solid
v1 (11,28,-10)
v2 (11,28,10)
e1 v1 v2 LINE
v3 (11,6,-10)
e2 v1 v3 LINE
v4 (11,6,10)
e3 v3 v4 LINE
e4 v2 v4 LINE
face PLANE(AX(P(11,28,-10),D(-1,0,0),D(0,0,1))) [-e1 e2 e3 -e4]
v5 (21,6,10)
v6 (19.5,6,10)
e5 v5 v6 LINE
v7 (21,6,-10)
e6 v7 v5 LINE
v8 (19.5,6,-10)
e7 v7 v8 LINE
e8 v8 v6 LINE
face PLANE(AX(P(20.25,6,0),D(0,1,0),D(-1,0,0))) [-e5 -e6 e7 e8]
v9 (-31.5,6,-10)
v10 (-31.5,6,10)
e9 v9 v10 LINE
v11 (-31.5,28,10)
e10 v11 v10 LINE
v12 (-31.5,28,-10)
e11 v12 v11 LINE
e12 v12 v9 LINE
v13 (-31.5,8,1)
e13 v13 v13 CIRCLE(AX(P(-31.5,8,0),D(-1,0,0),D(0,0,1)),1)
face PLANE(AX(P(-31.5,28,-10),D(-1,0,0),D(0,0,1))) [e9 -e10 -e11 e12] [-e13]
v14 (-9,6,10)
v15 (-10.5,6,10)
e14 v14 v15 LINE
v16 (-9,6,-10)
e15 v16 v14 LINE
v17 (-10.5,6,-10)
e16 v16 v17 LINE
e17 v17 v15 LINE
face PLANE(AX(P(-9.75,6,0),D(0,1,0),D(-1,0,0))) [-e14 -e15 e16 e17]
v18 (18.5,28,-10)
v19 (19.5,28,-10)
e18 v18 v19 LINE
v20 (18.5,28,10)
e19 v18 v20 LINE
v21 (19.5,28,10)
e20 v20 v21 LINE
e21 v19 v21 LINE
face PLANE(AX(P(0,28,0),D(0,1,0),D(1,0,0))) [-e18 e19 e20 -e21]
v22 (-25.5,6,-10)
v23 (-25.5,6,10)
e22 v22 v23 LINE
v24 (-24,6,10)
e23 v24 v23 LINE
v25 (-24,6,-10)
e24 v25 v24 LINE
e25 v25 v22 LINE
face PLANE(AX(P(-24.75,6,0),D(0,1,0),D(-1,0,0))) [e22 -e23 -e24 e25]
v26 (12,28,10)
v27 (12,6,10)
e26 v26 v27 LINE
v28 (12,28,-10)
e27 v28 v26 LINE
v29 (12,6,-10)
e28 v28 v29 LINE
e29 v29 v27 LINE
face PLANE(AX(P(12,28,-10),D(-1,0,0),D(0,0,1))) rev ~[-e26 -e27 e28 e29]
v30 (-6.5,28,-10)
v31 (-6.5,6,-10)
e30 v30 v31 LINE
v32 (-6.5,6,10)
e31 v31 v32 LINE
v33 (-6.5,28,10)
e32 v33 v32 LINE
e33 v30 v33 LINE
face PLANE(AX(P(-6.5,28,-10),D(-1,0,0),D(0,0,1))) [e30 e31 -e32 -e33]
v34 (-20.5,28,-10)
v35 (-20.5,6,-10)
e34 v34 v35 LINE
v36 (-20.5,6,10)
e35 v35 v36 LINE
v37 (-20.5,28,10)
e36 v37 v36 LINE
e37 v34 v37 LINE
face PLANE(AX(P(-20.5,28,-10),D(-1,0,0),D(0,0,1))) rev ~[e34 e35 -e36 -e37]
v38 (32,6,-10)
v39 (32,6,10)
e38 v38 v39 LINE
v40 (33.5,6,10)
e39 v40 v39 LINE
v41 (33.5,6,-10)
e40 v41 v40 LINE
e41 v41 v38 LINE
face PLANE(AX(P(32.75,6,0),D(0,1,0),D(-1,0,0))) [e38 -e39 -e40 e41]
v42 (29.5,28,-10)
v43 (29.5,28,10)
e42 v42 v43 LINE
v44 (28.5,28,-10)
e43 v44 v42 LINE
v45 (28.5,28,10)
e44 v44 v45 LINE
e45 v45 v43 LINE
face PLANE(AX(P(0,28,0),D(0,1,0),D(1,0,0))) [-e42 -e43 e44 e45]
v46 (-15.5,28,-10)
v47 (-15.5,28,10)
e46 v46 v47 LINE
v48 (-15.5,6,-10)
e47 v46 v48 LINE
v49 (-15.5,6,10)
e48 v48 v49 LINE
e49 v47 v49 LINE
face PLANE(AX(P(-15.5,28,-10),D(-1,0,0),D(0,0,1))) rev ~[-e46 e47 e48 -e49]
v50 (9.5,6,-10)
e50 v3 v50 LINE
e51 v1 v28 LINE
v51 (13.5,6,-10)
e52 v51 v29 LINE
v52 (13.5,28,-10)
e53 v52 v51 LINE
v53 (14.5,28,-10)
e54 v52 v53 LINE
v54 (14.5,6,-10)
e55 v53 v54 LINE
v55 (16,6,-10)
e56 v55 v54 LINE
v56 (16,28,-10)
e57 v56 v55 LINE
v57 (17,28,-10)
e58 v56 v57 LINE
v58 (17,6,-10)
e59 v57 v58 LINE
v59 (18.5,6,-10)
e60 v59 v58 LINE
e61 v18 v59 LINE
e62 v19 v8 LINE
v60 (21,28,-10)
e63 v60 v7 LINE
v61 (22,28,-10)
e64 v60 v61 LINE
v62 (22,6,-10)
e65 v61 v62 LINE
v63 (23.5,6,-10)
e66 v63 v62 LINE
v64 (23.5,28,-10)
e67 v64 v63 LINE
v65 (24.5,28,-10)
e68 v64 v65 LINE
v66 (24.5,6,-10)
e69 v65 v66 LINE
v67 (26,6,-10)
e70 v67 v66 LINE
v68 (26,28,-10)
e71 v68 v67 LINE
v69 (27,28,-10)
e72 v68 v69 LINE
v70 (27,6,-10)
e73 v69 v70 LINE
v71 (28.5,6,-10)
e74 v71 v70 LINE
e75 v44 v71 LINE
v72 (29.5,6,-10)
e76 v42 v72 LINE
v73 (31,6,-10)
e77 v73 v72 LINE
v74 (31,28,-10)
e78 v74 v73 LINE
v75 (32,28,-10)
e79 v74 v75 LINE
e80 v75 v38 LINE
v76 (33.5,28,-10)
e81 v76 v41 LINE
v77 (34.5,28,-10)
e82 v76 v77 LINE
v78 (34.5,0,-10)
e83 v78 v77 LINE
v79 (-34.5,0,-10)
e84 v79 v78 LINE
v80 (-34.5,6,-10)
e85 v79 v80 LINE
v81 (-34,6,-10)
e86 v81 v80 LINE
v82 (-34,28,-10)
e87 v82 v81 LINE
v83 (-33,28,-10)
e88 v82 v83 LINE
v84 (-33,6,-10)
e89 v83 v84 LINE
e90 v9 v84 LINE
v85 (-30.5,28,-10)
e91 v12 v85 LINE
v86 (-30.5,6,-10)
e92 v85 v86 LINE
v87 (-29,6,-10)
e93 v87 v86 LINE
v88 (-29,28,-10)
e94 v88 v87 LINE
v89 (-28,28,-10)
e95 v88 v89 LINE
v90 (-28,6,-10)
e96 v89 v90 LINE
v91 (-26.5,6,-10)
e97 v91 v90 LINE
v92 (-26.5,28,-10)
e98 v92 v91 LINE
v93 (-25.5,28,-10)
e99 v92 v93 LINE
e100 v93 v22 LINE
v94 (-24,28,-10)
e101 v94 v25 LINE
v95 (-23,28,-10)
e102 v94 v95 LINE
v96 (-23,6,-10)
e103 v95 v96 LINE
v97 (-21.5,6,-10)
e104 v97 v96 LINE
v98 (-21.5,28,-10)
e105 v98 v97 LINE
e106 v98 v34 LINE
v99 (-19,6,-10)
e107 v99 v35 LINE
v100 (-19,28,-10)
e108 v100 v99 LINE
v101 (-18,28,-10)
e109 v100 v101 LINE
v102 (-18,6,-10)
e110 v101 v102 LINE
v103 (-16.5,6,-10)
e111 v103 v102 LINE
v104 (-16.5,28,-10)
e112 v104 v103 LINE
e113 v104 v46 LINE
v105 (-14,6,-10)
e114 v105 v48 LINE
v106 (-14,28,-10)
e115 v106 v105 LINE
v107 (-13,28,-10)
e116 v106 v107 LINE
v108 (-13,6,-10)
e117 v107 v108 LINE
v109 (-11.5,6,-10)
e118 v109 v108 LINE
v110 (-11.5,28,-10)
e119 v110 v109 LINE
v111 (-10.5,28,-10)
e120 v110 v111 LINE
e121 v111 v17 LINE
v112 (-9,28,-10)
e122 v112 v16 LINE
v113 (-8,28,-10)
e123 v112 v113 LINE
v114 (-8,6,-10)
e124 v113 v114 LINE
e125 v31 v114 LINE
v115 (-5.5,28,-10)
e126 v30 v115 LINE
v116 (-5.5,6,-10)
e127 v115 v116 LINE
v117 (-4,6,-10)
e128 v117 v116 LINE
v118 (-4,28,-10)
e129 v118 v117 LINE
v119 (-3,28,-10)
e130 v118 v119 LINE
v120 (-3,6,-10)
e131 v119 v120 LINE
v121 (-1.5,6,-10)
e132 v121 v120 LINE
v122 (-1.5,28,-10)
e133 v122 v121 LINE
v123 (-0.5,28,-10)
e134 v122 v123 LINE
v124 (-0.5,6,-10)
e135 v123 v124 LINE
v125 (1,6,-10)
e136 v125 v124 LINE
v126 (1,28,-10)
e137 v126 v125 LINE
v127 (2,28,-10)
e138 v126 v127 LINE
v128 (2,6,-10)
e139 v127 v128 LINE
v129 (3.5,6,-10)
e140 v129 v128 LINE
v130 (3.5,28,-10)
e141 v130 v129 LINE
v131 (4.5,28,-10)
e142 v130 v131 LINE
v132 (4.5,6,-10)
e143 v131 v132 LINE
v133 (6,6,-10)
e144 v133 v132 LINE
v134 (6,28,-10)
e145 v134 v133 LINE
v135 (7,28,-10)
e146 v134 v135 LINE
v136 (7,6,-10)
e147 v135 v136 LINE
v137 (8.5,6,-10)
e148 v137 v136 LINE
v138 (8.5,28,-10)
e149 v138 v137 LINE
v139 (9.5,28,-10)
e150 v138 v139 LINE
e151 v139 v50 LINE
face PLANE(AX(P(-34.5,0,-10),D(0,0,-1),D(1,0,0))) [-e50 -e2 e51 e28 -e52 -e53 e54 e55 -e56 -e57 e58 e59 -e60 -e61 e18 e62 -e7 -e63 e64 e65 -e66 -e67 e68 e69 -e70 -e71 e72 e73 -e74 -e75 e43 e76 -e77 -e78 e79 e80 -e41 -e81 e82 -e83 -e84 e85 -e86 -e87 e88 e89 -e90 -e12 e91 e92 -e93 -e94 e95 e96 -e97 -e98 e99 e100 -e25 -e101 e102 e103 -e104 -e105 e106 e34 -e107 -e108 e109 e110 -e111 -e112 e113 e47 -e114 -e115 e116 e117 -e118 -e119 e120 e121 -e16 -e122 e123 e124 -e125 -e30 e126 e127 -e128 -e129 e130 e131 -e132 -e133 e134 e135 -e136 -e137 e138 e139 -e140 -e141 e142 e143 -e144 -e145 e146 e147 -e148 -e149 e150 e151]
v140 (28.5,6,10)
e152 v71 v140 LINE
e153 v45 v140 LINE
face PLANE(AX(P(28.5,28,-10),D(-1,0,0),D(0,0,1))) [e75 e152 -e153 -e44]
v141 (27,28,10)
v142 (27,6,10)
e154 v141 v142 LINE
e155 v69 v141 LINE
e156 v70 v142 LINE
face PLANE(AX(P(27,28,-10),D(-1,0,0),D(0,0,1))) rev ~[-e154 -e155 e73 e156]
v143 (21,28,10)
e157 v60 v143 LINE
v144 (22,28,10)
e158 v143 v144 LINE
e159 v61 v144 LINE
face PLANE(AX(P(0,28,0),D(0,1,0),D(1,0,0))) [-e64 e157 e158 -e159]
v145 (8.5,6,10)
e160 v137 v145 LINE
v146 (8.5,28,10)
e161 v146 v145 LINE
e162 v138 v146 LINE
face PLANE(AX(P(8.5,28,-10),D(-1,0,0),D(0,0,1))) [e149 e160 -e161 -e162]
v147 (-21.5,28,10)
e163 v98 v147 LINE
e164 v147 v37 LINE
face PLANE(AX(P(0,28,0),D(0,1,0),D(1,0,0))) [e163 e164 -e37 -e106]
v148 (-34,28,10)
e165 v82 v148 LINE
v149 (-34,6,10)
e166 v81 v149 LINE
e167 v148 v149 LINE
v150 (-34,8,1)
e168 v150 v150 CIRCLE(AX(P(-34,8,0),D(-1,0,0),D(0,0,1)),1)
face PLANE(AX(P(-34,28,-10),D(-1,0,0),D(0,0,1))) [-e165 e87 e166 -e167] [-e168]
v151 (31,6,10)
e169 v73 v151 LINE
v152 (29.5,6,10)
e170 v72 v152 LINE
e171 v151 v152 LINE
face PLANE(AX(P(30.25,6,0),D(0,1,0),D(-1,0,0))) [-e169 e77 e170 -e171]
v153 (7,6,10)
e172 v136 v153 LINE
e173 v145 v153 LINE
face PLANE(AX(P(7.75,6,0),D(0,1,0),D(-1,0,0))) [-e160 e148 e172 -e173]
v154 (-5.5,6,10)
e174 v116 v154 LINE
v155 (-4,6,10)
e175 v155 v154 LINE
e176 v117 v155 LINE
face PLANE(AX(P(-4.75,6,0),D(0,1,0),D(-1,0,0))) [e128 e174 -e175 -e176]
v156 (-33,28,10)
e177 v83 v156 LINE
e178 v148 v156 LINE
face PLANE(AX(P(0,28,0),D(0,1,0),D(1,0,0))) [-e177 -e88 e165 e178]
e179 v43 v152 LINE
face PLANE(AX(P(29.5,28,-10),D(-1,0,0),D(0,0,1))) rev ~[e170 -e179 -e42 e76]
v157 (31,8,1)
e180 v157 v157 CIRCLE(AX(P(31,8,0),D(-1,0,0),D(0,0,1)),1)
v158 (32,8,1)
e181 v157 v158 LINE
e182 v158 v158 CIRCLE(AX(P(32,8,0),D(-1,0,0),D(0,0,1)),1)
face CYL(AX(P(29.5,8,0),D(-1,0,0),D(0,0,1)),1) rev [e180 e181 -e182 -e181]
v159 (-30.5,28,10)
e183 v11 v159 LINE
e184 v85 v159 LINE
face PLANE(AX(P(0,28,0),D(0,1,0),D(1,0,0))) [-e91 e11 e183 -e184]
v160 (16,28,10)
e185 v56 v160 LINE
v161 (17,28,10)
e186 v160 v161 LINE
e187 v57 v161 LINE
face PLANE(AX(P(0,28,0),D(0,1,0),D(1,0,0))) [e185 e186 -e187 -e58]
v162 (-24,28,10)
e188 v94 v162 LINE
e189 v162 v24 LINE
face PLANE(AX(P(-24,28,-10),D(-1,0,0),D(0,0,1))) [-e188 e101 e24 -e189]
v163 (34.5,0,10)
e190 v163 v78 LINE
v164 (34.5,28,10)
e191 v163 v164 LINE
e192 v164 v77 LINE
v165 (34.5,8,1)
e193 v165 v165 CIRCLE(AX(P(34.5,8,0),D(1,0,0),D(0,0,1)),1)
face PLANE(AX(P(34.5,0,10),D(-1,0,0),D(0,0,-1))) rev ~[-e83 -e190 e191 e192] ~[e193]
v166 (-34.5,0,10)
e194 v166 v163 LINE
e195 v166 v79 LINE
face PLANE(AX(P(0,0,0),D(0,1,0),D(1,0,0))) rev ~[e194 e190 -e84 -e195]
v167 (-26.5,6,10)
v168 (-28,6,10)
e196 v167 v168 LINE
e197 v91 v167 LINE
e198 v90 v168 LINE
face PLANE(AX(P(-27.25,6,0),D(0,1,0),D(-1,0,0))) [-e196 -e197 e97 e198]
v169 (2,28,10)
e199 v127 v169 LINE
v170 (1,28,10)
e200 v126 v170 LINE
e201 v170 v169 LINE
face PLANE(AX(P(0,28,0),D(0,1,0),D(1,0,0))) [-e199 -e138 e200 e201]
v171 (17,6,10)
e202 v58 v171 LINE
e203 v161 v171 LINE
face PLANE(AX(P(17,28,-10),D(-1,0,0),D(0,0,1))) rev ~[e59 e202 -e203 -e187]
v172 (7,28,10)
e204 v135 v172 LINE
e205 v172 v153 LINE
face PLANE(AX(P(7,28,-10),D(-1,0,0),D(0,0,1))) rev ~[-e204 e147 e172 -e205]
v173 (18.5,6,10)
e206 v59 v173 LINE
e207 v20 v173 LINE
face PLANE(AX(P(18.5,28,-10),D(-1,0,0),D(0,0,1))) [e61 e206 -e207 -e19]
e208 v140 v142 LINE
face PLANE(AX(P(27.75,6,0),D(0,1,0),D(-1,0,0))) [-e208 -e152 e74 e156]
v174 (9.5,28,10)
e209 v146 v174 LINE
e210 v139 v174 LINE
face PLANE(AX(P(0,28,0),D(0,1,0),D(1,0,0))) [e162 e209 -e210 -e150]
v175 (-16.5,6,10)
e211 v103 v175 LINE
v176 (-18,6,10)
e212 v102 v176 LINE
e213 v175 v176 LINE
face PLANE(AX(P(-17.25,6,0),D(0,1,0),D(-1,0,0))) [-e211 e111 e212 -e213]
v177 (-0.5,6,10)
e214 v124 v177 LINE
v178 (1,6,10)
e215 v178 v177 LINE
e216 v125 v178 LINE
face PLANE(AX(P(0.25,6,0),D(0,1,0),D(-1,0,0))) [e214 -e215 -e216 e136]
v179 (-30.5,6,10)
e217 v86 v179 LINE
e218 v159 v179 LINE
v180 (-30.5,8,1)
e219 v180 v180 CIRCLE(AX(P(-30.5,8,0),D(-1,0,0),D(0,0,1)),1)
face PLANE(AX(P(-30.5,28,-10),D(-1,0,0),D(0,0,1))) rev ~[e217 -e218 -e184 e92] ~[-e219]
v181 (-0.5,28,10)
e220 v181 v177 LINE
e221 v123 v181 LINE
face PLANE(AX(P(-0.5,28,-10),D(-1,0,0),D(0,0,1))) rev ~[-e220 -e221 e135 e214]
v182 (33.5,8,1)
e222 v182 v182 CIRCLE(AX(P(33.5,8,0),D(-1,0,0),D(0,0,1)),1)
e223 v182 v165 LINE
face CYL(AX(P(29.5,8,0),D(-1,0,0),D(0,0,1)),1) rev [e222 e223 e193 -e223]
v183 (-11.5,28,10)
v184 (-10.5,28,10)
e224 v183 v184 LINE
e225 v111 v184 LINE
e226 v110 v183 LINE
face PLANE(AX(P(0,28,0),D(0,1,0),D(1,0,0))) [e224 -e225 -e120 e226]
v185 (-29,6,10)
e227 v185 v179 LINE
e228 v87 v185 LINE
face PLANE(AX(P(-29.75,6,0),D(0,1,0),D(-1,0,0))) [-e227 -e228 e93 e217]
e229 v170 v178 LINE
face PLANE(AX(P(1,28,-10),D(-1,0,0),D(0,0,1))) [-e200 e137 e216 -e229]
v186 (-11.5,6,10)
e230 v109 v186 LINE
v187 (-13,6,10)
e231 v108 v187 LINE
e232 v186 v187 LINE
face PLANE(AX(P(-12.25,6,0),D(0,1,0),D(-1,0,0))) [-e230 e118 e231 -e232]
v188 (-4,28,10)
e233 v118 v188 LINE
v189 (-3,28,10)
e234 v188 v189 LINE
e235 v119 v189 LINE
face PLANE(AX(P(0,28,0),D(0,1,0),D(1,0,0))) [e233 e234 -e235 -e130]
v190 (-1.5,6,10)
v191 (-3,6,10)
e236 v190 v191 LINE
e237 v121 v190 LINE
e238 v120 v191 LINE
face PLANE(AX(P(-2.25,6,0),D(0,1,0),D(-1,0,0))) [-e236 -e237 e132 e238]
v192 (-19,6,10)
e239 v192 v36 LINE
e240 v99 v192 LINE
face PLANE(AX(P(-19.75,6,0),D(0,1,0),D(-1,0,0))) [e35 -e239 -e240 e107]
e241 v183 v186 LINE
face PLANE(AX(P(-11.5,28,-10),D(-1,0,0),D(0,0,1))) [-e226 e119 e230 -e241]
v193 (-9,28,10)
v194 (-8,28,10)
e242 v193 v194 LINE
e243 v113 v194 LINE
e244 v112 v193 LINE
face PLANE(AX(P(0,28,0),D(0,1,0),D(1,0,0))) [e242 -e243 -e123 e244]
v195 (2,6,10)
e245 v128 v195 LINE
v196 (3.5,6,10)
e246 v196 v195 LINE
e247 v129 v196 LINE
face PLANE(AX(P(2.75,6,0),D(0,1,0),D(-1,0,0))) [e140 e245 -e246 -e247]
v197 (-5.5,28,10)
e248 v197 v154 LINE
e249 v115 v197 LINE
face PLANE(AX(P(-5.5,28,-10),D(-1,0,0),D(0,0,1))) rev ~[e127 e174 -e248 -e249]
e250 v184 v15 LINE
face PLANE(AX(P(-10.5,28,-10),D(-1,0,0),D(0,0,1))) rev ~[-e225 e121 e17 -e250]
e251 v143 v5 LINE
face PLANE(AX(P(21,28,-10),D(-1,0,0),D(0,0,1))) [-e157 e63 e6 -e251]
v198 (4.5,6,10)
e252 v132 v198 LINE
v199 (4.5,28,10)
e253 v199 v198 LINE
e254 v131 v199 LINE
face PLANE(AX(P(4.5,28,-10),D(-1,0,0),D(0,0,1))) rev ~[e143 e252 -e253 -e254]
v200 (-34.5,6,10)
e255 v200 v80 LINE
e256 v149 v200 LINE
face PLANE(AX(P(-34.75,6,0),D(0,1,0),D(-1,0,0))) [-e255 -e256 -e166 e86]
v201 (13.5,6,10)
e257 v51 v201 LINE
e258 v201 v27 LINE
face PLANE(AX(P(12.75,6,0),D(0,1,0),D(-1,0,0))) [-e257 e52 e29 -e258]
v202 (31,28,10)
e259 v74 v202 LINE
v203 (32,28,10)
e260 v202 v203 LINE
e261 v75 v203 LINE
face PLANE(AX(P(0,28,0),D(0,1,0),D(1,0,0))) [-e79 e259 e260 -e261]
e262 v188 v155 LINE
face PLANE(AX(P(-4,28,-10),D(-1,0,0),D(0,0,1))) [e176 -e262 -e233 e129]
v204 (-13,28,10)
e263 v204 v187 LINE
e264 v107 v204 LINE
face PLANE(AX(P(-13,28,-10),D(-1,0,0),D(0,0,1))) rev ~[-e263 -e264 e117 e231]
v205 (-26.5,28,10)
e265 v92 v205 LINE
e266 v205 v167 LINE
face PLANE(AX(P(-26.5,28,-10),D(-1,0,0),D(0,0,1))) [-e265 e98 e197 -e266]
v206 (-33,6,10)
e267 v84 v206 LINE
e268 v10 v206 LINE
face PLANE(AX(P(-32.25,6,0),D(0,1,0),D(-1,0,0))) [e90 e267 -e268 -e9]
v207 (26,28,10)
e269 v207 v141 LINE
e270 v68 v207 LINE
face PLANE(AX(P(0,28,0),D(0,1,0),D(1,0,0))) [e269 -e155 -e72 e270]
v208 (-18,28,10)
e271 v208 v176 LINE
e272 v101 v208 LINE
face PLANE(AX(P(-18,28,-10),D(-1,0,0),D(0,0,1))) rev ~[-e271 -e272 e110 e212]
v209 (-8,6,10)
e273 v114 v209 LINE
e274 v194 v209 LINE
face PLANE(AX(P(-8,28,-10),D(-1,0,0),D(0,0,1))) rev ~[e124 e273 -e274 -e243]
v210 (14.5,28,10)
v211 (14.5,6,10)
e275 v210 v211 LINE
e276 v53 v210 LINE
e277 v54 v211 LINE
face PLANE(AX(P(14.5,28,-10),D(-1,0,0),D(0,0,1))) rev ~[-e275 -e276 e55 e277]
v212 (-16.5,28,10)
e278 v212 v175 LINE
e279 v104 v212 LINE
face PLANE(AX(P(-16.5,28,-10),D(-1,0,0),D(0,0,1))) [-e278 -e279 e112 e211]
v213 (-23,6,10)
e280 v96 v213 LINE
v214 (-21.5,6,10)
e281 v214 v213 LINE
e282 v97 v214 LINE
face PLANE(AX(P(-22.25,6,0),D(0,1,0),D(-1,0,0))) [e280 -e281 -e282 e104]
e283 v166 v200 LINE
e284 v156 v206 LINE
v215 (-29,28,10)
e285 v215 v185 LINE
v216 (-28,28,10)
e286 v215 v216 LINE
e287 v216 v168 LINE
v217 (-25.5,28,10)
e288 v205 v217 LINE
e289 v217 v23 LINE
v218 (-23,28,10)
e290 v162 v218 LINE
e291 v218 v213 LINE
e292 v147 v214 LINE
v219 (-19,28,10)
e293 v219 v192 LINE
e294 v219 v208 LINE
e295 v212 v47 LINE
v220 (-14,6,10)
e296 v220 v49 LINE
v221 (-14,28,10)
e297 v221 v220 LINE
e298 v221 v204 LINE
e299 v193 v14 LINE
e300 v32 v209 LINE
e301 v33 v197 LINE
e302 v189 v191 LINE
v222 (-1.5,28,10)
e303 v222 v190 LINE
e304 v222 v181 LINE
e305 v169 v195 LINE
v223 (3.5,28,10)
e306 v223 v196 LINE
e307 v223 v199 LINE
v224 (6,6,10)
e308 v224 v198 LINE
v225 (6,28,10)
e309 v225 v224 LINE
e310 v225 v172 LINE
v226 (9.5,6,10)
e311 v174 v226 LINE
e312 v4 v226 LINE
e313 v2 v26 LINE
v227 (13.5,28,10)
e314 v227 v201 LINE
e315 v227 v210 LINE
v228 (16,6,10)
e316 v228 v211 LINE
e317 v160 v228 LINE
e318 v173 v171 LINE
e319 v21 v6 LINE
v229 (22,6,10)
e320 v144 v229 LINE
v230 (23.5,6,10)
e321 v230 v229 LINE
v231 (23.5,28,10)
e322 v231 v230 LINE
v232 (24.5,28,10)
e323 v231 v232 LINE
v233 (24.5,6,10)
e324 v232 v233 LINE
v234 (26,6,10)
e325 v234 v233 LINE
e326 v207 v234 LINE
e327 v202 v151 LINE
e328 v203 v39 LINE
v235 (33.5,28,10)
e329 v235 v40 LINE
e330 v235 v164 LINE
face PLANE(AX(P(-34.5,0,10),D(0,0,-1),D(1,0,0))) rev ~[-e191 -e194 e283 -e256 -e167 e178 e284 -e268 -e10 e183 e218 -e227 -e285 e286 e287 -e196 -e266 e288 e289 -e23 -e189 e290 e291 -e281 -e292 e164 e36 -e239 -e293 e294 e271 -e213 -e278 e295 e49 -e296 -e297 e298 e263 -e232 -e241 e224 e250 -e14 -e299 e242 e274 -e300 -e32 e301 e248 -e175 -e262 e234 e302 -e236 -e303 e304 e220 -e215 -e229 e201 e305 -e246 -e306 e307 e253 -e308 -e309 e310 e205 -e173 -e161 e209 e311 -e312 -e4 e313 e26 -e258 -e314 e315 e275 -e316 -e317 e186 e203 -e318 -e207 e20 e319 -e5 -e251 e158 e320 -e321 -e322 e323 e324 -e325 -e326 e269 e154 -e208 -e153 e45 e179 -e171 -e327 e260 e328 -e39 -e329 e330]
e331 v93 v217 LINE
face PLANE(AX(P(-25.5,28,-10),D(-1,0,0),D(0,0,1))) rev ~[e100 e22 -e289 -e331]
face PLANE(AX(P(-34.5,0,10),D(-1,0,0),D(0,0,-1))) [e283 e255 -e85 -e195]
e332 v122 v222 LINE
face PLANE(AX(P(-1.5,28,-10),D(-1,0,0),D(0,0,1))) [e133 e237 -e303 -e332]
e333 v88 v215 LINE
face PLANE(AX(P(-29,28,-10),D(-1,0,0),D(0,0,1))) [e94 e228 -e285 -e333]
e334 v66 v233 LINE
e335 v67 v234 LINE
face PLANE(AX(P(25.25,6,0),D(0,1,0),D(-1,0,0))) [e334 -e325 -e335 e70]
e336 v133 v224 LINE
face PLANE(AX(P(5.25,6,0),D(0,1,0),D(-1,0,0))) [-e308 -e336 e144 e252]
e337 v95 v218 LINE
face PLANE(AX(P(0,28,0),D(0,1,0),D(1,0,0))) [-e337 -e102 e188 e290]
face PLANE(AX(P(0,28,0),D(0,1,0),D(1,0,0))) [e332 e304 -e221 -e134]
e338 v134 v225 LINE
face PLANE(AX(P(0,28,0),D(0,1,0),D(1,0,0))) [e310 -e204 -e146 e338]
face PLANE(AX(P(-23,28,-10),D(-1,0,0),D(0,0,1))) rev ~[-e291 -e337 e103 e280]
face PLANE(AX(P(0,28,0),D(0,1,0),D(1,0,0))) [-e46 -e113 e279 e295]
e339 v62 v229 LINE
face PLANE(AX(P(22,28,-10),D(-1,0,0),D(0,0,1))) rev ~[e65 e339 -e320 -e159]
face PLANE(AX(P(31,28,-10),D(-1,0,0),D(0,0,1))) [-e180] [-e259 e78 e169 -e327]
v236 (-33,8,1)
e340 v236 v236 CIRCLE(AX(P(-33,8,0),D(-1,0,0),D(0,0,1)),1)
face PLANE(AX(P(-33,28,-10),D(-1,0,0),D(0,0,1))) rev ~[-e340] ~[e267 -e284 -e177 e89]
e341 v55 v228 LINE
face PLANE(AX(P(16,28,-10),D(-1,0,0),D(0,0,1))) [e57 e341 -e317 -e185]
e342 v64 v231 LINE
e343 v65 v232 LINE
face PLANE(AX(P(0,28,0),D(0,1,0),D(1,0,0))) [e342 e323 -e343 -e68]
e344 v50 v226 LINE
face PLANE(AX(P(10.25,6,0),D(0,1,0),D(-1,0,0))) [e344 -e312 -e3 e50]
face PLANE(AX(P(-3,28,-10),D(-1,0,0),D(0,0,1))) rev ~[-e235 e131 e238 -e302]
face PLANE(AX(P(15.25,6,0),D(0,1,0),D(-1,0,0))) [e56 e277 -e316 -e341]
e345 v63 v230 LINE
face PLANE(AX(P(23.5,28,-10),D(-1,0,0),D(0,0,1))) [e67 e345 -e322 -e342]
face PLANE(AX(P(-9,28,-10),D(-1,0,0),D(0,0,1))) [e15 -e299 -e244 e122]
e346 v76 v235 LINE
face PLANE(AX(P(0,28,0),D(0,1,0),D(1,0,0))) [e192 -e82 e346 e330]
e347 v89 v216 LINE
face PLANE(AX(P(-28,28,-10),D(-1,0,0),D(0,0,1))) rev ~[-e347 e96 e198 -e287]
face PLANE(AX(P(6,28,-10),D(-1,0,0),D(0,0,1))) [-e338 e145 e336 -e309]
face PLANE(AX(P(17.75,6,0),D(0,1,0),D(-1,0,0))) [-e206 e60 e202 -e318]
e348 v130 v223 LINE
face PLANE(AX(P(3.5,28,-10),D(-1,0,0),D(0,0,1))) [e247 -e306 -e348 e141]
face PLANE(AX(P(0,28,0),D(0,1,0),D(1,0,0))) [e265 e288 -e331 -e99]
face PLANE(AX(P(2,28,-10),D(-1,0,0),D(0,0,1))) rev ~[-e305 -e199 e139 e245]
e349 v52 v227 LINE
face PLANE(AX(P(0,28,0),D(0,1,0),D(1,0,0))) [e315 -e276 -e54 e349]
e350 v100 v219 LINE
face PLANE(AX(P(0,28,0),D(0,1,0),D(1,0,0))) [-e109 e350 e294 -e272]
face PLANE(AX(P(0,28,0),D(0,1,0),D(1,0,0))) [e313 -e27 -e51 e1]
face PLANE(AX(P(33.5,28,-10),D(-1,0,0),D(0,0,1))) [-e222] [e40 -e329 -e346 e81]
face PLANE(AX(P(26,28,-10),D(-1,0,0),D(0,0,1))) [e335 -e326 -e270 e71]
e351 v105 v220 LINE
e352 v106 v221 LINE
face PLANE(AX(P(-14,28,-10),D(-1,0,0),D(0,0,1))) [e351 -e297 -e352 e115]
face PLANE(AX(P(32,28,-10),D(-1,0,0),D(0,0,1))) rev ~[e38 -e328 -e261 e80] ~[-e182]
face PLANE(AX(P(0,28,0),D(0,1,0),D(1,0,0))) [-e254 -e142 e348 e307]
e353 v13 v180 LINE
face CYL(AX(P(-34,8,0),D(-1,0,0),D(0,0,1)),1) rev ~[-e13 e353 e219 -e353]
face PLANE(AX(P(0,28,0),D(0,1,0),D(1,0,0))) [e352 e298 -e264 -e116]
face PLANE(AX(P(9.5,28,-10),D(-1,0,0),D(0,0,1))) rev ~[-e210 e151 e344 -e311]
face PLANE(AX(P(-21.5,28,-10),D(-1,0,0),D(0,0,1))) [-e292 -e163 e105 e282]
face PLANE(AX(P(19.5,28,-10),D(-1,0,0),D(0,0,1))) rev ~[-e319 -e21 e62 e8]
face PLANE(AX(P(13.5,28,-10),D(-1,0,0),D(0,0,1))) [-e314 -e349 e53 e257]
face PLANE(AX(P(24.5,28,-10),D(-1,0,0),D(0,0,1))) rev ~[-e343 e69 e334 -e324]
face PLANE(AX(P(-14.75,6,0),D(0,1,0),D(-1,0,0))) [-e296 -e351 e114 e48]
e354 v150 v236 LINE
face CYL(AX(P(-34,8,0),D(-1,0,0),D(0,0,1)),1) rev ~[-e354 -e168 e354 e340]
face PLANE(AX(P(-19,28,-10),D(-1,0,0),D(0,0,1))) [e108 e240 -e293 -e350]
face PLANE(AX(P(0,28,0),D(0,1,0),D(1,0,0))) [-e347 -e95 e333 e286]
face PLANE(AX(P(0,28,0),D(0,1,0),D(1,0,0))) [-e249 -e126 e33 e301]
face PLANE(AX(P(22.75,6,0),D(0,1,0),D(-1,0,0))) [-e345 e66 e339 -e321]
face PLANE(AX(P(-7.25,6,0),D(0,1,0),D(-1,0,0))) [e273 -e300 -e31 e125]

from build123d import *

# Parameters (mm, degrees)
SKETCH_1_W          = 69
SKETCH_1_H          = 20
EXTRUDE_1_DEPTH     = 28
SKETCH_2_W          = 1.5
SKETCH_2_H          = 20
CUT_EXTRUDE_1_DEPTH = 22
SKETCH_3_R          = 1
CUT_EXTRUDE_2_DEPTH = 5
CUT_EXTRUDE_START   = -5
SKETCH_4_R          = 1
CUT_EXTRUDE_3_DEPTH = 5


with BuildPart() as part:
    # 草图1 → 拉伸1 (new body)
    with BuildSketch(Plane(origin=(0, 0, 0), x_dir=(1, 0, 0), z_dir=(0, 1, 0))):
        Rectangle(SKETCH_1_W, SKETCH_1_H)
    extrude(amount=EXTRUDE_1_DEPTH)

    # 草图2 → 切除-拉伸1 (cut)
    with BuildSketch(Plane(origin=(0, 28, 0), x_dir=(-1, 0, 0), z_dir=(0, 1, 0))):
        with Locations((-0.25, 0)):
            Rectangle(SKETCH_2_W, SKETCH_2_H)
        with Locations((2.25, 0)):
            Rectangle(SKETCH_2_W, SKETCH_2_H)
        with Locations((4.75, 0)):
            Rectangle(SKETCH_2_W, SKETCH_2_H)
        with Locations((7.25, 0)):
            Rectangle(SKETCH_2_W, SKETCH_2_H)
        with Locations((9.75, 0)):
            Rectangle(SKETCH_2_W, SKETCH_2_H)
        with Locations((12.25, 0)):
            Rectangle(SKETCH_2_W, SKETCH_2_H)
        with Locations((14.75, 0)):
            Rectangle(SKETCH_2_W, SKETCH_2_H)
        with Locations((17.25, 0)):
            Rectangle(SKETCH_2_W, SKETCH_2_H)
        with Locations((19.75, 0)):
            Rectangle(SKETCH_2_W, SKETCH_2_H)
        with Locations((22.25, 0)):
            Rectangle(SKETCH_2_W, SKETCH_2_H)
        with Locations((24.75, 0)):
            Rectangle(SKETCH_2_W, SKETCH_2_H)
        with Locations((27.25, 0)):
            Rectangle(SKETCH_2_W, SKETCH_2_H)
        with Locations((29.75, 0)):
            Rectangle(SKETCH_2_W, SKETCH_2_H)
        with Locations((32.25, 0)):
            Rectangle(SKETCH_2_W, SKETCH_2_H)
        with Locations((34.75, 0)):
            Rectangle(SKETCH_2_W, SKETCH_2_H)
        with Locations((-2.75, 0)):
            Rectangle(SKETCH_2_W, SKETCH_2_H)
        with Locations((-5.25, 0)):
            Rectangle(SKETCH_2_W, SKETCH_2_H)
        with Locations((-7.75, 0)):
            Rectangle(SKETCH_2_W, SKETCH_2_H)
        with Locations((-10.25, 0)):
            Rectangle(SKETCH_2_W, SKETCH_2_H)
        with Locations((-12.75, 0)):
            Rectangle(SKETCH_2_W, SKETCH_2_H)
        with Locations((-15.25, 0)):
            Rectangle(SKETCH_2_W, SKETCH_2_H)
        with Locations((-17.75, 0)):
            Rectangle(SKETCH_2_W, SKETCH_2_H)
        with Locations((-20.25, 0)):
            Rectangle(SKETCH_2_W, SKETCH_2_H)
        with Locations((-22.75, 0)):
            Rectangle(SKETCH_2_W, SKETCH_2_H)
        with Locations((-25.25, 0)):
            Rectangle(SKETCH_2_W, SKETCH_2_H)
        with Locations((-27.75, 0)):
            Rectangle(SKETCH_2_W, SKETCH_2_H)
        with Locations((-30.25, 0)):
            Rectangle(SKETCH_2_W, SKETCH_2_H)
        with Locations((-32.75, 0)):
            Rectangle(SKETCH_2_W, SKETCH_2_H)
    extrude(amount=-CUT_EXTRUDE_1_DEPTH, mode=Mode.SUBTRACT)

    # 草图3 → 切除-拉伸2 (cut)
    with BuildSketch(Plane.ZY.offset(34)):
        with Locations((0, 8)):
            Circle(SKETCH_3_R)
    extrude(amount=-CUT_EXTRUDE_2_DEPTH, mode=Mode.SUBTRACT)

    # 草图4 → 切除-拉伸3 (cut)
    with BuildSketch(Plane(origin=(34.5, 0, 0), x_dir=(0, 0, -1), z_dir=(1, 0, 0)).offset(CUT_EXTRUDE_START)):
        with Locations(Location((0, 8, 0), (0, 0, 180))):
            Circle(SKETCH_4_R)
    extrude(amount=CUT_EXTRUDE_3_DEPTH, mode=Mode.SUBTRACT)


solid = part.part
